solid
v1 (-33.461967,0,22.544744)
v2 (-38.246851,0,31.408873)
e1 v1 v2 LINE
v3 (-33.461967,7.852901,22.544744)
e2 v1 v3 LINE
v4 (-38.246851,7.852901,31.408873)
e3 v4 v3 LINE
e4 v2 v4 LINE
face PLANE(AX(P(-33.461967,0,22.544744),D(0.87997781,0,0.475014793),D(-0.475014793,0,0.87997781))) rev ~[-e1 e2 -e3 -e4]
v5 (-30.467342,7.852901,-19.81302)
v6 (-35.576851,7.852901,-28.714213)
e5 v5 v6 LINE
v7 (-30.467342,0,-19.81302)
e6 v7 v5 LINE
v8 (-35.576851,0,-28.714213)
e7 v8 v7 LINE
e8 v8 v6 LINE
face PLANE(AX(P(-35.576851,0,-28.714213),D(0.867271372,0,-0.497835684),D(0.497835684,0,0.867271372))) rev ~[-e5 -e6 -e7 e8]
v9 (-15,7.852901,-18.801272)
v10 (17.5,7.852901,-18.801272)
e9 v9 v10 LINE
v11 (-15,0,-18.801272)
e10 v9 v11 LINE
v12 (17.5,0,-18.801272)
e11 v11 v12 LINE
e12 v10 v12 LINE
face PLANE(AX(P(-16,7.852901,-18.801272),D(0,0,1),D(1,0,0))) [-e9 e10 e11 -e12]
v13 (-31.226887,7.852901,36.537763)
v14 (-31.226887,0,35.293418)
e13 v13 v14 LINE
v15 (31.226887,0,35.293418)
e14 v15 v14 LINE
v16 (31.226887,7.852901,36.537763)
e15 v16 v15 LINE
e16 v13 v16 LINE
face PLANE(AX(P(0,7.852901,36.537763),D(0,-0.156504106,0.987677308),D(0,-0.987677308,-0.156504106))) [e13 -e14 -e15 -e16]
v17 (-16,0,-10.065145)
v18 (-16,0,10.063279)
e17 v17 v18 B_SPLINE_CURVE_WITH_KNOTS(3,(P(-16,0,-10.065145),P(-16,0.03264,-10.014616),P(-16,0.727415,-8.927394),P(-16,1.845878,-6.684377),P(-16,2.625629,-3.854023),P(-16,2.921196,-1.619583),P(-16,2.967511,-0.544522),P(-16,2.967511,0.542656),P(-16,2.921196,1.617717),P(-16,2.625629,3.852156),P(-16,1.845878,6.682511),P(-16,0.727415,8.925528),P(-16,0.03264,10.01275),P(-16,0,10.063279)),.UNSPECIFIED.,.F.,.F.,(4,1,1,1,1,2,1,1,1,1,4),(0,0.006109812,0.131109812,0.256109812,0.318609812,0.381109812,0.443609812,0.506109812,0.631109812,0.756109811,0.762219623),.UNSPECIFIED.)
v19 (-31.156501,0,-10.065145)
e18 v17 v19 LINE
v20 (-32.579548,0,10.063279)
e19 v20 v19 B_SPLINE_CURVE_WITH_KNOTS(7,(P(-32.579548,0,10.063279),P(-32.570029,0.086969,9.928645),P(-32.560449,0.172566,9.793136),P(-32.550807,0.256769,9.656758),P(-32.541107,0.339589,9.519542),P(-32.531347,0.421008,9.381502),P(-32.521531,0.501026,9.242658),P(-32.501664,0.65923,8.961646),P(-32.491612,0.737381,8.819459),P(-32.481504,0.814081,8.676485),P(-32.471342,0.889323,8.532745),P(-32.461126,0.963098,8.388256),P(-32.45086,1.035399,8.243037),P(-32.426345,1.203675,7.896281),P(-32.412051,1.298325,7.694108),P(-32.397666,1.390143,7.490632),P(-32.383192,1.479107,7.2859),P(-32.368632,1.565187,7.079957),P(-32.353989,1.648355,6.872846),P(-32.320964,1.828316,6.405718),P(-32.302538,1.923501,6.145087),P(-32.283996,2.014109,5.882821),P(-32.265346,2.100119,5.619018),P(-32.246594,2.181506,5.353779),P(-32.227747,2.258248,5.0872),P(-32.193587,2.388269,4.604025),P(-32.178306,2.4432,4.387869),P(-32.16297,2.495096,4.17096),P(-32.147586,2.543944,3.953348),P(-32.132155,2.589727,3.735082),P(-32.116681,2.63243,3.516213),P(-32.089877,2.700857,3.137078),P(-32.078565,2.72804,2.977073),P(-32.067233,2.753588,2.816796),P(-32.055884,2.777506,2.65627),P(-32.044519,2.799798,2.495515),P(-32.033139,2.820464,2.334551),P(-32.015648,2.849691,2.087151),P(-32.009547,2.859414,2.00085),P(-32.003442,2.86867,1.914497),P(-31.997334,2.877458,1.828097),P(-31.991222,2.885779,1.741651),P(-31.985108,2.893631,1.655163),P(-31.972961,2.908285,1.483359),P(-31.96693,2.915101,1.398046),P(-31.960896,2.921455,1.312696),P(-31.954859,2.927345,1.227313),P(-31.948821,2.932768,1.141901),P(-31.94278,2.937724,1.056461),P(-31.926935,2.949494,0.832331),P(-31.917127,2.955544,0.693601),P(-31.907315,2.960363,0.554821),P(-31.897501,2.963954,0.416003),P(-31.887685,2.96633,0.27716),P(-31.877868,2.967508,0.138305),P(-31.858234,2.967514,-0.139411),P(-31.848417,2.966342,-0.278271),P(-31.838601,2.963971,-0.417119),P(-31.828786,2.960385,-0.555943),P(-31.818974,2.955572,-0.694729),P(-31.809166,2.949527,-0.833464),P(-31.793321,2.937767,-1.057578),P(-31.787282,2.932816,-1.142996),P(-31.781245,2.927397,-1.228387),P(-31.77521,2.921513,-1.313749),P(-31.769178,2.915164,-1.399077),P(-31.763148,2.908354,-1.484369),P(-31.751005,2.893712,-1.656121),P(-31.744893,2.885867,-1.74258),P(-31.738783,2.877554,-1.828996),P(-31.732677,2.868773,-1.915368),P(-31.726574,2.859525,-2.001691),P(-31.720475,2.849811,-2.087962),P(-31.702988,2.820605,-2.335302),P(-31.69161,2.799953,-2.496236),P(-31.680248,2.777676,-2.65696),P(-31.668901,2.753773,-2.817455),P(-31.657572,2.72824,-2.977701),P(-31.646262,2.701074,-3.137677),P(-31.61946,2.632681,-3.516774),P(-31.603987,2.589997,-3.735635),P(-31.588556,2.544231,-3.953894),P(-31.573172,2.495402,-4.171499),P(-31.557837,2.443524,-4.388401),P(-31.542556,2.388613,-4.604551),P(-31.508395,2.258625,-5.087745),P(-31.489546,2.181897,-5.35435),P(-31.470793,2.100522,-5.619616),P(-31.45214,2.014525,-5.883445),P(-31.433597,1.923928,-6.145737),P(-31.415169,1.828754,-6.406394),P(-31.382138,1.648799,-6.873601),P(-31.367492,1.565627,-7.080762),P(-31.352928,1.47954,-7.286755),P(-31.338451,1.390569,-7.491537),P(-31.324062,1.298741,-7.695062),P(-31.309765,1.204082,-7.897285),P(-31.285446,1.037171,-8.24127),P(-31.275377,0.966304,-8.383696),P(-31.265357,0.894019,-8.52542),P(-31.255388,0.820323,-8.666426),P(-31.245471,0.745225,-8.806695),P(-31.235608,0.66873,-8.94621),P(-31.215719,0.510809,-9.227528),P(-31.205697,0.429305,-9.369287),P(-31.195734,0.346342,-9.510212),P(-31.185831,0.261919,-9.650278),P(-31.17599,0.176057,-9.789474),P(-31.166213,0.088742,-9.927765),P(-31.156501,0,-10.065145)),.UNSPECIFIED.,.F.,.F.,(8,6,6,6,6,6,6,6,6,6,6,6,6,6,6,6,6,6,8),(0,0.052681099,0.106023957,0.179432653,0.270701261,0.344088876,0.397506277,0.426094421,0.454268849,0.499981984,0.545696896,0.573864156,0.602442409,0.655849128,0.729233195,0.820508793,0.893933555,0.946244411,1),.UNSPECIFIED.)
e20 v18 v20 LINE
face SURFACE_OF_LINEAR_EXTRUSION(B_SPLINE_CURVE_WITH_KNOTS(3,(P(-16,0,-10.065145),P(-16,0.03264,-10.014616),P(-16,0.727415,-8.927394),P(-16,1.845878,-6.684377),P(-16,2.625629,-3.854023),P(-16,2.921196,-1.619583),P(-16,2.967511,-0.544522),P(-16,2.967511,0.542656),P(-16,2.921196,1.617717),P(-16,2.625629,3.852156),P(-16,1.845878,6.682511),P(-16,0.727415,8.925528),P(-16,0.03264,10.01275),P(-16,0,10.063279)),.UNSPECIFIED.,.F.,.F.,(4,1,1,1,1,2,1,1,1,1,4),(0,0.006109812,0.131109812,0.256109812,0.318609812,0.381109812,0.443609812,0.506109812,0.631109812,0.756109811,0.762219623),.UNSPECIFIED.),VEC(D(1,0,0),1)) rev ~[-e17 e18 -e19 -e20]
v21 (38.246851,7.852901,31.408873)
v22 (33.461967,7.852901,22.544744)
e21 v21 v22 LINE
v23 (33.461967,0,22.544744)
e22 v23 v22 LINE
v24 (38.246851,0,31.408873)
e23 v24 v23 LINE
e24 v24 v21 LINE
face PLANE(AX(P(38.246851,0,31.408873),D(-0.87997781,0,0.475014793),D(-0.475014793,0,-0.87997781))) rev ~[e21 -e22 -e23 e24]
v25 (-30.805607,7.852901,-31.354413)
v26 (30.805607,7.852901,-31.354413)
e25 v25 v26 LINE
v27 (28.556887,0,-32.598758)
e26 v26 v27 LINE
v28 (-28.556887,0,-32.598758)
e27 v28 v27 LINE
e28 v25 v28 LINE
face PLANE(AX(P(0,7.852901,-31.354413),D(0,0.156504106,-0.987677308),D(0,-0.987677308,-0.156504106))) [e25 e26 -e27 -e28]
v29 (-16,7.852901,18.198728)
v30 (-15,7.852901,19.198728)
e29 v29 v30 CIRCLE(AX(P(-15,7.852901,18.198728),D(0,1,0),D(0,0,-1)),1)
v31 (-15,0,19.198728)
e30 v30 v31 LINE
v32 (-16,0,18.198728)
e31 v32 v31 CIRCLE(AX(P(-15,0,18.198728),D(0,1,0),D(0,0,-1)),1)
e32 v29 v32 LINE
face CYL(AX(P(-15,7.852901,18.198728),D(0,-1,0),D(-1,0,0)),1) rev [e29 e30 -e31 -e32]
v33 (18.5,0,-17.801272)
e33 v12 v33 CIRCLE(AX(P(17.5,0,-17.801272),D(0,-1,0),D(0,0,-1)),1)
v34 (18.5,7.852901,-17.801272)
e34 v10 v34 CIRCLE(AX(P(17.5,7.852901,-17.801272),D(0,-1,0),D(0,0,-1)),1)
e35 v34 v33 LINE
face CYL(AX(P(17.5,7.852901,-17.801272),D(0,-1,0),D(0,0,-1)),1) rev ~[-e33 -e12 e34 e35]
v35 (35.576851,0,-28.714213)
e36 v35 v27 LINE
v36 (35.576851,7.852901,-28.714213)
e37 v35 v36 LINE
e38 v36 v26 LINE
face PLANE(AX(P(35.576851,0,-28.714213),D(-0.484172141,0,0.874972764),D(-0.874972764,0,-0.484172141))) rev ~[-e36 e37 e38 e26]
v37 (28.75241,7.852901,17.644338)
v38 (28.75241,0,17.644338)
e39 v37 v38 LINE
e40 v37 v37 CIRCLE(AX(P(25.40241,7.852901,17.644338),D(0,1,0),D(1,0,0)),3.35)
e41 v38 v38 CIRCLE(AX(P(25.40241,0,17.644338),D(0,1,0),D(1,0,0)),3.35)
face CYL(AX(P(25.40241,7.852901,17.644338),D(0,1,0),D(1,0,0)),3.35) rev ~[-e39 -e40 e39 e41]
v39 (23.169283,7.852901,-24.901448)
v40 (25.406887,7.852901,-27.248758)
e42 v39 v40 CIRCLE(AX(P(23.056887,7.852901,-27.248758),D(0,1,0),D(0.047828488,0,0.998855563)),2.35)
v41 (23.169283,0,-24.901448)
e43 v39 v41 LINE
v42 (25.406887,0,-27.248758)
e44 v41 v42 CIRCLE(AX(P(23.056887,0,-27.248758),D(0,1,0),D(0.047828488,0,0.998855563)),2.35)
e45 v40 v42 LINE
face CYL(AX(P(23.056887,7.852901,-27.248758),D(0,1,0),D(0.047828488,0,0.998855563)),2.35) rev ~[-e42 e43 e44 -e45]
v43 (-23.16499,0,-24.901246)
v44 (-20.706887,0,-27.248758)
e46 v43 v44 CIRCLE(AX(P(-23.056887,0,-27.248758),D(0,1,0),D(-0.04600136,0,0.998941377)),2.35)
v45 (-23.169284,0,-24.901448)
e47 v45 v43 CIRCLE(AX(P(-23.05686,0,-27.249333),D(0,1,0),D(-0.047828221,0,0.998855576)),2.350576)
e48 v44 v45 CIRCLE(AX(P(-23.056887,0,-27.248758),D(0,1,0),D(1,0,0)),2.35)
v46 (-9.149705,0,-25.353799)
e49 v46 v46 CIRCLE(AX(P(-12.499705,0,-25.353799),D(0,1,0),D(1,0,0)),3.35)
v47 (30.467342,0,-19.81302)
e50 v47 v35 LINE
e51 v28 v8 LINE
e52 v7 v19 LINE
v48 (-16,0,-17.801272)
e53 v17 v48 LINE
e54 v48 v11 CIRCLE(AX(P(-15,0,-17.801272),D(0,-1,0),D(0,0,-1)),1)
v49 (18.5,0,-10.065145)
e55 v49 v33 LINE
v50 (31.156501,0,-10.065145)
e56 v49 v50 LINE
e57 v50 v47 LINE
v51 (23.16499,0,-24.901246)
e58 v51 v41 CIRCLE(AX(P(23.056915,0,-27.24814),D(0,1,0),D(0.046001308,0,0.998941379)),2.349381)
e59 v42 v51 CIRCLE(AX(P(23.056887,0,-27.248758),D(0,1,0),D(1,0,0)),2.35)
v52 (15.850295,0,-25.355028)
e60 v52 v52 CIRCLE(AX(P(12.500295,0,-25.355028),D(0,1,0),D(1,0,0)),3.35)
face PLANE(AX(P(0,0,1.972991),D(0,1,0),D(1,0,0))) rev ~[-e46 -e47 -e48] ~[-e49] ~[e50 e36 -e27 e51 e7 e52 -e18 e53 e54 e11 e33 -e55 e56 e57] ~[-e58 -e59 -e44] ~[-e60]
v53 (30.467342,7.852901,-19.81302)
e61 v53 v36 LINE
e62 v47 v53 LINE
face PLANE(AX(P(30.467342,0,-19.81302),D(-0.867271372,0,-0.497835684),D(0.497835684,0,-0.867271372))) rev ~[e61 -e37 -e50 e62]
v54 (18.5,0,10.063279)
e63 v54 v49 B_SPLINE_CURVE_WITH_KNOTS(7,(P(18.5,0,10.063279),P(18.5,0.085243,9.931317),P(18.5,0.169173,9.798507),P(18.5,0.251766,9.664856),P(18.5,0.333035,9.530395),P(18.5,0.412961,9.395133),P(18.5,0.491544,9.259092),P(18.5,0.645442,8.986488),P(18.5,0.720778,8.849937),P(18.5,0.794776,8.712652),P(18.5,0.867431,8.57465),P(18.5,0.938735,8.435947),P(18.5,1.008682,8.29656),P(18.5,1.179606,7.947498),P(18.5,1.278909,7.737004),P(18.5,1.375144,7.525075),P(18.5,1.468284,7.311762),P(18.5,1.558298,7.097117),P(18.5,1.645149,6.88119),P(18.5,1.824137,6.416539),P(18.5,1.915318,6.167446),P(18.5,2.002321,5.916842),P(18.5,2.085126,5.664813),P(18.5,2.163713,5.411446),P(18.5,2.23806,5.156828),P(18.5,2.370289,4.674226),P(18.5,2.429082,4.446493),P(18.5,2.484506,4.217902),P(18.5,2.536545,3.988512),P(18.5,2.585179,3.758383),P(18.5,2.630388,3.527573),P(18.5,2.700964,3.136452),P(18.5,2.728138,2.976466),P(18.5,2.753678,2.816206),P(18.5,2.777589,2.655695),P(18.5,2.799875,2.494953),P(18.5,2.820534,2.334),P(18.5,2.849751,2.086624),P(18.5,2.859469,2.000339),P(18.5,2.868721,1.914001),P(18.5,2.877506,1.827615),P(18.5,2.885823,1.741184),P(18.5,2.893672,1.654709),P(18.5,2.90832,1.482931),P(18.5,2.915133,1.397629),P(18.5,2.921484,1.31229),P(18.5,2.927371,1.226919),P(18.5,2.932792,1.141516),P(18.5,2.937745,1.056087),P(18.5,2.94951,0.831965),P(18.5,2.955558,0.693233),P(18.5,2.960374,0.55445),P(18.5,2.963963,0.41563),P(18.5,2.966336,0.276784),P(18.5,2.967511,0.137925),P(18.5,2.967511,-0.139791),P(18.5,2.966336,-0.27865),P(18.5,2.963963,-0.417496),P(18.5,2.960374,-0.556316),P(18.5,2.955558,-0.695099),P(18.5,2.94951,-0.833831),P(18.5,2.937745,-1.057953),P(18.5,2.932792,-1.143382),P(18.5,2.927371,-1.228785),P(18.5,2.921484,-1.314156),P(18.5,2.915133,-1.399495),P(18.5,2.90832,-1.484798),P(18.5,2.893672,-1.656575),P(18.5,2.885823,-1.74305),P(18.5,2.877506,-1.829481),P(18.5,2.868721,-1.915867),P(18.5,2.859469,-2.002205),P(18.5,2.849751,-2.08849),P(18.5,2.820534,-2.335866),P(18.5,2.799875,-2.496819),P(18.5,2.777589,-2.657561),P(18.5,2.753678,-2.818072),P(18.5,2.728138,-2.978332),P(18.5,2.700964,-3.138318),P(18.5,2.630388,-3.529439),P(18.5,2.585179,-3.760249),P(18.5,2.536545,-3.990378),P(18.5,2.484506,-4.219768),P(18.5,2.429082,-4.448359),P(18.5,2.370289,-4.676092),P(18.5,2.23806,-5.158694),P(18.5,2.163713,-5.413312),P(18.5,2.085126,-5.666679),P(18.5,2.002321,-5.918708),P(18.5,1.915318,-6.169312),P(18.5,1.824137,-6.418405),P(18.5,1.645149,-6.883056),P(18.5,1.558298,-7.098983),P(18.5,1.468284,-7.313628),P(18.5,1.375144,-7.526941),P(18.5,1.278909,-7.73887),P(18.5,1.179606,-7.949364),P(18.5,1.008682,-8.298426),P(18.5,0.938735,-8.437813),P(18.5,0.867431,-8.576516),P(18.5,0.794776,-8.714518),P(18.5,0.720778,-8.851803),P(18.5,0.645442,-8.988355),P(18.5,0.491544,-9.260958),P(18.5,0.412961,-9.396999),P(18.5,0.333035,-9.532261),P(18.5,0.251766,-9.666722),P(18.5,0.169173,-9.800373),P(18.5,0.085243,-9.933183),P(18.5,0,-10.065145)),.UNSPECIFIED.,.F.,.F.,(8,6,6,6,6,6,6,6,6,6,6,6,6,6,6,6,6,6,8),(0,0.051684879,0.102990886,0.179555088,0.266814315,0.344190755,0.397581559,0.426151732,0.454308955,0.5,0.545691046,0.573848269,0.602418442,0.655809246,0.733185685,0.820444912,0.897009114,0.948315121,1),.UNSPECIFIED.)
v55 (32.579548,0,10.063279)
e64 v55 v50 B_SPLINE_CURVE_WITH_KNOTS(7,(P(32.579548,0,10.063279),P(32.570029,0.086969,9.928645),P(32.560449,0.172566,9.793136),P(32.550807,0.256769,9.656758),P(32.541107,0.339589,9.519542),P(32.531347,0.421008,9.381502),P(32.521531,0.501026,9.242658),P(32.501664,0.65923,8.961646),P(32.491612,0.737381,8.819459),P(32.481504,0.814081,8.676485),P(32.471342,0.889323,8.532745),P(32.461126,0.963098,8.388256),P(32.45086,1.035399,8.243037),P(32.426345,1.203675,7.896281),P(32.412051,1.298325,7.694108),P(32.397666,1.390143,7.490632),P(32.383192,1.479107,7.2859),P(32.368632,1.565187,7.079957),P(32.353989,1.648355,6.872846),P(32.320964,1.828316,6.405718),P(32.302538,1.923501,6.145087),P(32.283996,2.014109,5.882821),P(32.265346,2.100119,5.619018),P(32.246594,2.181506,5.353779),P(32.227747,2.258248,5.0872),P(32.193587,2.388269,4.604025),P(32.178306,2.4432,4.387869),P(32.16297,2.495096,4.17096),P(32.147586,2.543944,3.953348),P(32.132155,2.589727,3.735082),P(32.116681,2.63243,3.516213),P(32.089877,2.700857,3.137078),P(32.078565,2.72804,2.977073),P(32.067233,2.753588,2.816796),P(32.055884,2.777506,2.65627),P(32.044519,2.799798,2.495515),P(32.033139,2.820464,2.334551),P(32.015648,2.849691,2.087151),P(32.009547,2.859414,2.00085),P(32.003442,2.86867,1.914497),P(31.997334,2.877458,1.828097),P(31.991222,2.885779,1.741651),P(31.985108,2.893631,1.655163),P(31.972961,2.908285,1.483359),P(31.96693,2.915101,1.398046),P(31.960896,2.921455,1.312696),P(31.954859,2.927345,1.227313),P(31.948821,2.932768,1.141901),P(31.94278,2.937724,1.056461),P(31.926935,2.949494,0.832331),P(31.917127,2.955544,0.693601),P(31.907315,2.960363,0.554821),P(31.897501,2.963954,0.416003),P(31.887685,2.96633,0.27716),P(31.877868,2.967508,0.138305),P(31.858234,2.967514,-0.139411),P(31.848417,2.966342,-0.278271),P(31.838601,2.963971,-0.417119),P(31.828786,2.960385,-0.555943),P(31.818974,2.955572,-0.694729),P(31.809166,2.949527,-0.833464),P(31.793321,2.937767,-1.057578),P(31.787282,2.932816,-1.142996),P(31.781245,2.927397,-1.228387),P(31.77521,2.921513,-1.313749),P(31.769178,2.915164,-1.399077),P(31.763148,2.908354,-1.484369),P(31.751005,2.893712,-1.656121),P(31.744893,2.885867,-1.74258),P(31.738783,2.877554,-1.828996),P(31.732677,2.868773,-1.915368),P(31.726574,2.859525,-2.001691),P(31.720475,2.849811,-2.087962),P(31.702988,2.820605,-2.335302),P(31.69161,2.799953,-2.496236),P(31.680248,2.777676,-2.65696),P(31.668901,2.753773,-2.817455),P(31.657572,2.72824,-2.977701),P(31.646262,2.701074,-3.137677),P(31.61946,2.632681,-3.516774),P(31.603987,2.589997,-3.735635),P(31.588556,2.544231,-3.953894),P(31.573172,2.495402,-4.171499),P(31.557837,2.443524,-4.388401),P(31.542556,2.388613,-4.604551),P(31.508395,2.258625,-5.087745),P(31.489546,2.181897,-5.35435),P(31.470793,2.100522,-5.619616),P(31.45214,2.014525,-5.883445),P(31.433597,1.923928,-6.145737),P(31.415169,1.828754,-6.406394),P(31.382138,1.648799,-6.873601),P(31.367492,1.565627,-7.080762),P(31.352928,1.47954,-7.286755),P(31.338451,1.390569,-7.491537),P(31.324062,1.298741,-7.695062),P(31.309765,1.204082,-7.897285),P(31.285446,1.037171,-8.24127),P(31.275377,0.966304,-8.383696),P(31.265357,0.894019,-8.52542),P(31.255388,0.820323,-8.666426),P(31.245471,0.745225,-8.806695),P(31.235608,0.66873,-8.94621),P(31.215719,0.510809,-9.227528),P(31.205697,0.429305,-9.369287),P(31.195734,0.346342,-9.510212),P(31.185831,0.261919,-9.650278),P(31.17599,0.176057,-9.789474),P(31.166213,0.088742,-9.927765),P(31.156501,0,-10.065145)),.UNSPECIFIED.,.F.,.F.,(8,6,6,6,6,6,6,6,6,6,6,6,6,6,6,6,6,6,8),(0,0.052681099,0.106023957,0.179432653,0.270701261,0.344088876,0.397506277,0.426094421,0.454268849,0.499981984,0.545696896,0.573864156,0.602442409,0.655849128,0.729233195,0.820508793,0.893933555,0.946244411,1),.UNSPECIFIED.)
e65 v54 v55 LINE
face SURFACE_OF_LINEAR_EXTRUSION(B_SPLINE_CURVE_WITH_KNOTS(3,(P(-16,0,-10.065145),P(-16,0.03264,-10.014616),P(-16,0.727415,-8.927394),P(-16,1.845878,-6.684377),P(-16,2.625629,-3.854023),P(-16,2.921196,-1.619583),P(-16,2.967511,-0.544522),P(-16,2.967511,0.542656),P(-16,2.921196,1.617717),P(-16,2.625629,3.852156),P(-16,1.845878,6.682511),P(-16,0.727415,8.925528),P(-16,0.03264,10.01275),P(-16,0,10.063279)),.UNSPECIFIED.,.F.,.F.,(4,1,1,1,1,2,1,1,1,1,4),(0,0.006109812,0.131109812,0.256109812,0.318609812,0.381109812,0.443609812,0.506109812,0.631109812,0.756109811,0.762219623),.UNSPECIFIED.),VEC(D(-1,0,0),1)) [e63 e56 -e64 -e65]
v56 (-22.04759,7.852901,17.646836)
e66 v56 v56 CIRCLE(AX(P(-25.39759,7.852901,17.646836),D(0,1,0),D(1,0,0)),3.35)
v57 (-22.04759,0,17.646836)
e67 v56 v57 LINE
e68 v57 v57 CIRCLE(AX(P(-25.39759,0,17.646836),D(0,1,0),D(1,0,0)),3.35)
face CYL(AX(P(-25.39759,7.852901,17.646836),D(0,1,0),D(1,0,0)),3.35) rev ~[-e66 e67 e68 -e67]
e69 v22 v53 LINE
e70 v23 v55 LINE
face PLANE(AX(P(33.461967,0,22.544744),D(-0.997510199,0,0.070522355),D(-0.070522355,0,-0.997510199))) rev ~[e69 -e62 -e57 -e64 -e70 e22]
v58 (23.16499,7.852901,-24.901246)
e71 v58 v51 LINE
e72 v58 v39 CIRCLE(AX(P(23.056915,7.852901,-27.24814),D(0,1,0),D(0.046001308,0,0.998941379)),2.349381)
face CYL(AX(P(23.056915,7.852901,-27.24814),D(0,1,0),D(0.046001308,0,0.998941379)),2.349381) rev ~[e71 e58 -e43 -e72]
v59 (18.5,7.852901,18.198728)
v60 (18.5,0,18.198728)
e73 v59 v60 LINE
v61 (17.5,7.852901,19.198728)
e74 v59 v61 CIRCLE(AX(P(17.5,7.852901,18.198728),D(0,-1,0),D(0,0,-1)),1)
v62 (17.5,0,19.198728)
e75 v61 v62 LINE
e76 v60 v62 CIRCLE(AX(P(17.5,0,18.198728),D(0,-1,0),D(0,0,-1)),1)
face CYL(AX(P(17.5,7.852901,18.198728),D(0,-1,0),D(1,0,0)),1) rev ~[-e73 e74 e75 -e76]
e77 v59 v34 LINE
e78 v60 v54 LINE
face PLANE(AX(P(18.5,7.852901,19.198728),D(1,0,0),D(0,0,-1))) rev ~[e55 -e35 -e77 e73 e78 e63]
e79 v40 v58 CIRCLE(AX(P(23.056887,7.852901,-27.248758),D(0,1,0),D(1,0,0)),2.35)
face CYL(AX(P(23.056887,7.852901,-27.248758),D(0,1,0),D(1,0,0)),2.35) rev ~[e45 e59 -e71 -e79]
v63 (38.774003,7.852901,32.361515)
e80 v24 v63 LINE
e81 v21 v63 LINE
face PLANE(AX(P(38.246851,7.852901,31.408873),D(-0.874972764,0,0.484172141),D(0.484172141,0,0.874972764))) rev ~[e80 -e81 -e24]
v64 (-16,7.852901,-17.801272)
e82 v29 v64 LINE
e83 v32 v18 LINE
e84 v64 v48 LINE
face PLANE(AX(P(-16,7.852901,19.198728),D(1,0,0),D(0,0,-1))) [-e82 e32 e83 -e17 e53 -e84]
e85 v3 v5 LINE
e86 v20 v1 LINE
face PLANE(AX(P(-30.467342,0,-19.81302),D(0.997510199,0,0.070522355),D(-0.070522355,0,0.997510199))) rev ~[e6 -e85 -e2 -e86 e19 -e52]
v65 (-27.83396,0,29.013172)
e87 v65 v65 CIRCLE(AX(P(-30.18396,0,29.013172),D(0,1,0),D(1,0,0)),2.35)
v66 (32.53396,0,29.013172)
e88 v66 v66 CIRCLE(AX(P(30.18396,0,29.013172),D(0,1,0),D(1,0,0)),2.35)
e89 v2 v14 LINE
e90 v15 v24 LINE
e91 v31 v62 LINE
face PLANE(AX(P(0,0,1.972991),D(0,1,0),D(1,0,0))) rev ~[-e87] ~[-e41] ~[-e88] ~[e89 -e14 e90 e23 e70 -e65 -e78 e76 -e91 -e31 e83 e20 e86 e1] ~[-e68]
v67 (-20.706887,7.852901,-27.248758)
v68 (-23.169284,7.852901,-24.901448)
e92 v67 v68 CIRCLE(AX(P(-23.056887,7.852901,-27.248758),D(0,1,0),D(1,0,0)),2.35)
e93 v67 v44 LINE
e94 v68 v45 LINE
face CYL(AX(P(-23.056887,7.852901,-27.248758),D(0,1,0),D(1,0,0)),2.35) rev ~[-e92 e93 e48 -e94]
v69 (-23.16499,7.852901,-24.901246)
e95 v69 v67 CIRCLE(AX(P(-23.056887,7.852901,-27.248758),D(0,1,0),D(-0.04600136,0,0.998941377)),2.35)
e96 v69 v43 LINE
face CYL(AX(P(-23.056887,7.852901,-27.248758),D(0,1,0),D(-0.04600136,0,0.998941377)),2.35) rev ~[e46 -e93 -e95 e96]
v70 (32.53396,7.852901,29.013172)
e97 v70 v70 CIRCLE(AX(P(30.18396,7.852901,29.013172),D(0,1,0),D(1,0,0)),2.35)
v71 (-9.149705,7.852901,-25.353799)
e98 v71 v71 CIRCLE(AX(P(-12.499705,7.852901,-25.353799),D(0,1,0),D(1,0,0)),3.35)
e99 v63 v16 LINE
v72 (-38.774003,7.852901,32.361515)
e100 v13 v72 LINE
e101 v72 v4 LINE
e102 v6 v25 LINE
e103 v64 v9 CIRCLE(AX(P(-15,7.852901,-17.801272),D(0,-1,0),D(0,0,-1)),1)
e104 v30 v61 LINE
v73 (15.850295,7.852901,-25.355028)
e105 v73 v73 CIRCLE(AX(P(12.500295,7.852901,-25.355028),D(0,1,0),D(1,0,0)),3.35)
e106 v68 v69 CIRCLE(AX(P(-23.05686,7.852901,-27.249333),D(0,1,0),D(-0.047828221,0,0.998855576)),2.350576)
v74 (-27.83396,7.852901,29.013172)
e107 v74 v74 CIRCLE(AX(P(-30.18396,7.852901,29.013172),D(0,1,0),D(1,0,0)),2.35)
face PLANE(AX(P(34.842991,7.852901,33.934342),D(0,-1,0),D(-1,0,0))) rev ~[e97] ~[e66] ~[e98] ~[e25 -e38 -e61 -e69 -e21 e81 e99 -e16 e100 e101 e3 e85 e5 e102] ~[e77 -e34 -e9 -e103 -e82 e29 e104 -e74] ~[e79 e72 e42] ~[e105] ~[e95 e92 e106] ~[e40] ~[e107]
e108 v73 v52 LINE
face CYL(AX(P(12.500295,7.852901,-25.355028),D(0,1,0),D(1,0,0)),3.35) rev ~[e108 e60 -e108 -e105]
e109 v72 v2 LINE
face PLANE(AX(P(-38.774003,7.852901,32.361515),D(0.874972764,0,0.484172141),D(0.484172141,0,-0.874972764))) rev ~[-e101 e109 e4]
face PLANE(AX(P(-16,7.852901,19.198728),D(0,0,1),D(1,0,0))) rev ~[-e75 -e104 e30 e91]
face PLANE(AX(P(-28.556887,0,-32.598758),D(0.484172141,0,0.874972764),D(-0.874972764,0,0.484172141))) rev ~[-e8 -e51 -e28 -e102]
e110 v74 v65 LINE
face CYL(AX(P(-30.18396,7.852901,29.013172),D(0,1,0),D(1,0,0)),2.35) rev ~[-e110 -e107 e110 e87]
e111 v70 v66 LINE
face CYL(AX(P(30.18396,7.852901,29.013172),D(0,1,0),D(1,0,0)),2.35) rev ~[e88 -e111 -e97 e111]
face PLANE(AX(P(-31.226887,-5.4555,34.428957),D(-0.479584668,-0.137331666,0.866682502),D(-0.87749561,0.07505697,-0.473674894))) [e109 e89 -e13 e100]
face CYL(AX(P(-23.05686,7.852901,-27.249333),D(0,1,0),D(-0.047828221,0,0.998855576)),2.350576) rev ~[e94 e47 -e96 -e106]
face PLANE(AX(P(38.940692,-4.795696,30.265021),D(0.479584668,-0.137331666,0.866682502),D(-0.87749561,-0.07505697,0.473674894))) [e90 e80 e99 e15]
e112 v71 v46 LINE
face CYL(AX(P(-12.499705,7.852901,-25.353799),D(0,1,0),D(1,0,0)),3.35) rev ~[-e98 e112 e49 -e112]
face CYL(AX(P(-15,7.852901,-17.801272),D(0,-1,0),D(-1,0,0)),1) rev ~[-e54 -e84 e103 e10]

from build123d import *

# Parameters (mm, degrees)
BOSS_EXTRUDE1_DEPTH      = 10
CUT_EXTRUDE1_DEPTH       = 39.246851426
CUT_EXTRUDE1_DEPTH_BACK  = 39.246851426
BOSS_EXTRUDE2_DEPTH      = 31.226887
BOSS_EXTRUDE2_DEPTH_BACK = 31.226887
BOSS_EXTRUDE4_DEPTH      = 7.852901
CUT_EXTRUDE6_REACH       = 15.474
BOSS_EXTRUDE6_DEPTH      = 7.852901
CUT_EXTRUDE7_REACH       = 15.474
SKETCH15_W               = 34.5
SKETCH15_H               = 38
CUT_EXTRUDE8_DEPTH       = 8.852900758
FILLET1_R                = 1
SKETCH16_R               = 2.35
CUT_EXTRUDE9_DEPTH       = 7.852901
SKETCH18_R               = 3.35
CUT_EXTRUDE10_DEPTH      = 7.852901
CUT_EXTRUDE11_DEPTH      = 55.774002508
CUT_EXTRUDE11_DEPTH_BACK = 23.774002507


with BuildPart() as part:
    # Sketch1 → Boss-Extrude1 (new body)
    with BuildSketch(Plane(origin=(0, 0, 0), x_dir=(1, 0, 0), z_dir=(0, 1, 0))):
        Polygon((28.55688655, 32.59875814), (-28.55688655, 32.59875814), (-35.576851431, 28.714212738), (-30.467341853, 19.813019987), (-33.461967186, -22.544744449), (-38.246851426, -31.408872502), (-31.226886544, -35.293417903), (31.226886544, -35.293417903), (38.246851426, -31.408872502), (33.461967186, -22.544744449), (30.467341853, 19.813019987), (35.576851431, 28.714212738), align=None)
    extrude(amount=BOSS_EXTRUDE1_DEPTH)

    # Sketch3 → Cut-Extrude1 (cut, two sides)
    with BuildSketch(Plane(origin=(0, 0, 0), x_dir=(0, 0, -1), z_dir=(1, 0, 0))) as cut_extrude1_sk:
        Polygon((31.354413252, 7.852900712), (32.59875814, 0), (34.072271083, 0), (34.072271083, 12.681172501), (31.434287212, 12.681172501), (-35.293417903, 12.681172501), (-35.293417903, 10), (-35.293417903, 7.852900712), align=None)
    extrude(amount=CUT_EXTRUDE1_DEPTH, mode=Mode.SUBTRACT)
    extrude(cut_extrude1_sk.sketch, amount=-CUT_EXTRUDE1_DEPTH_BACK, mode=Mode.SUBTRACT)

    # Sketch5 → Boss-Extrude2 (add, two sides)
    with BuildSketch(Plane(origin=(0, 0, 0), x_dir=(0, 0, -1), z_dir=(1, 0, 0))) as boss_extrude2_sk:
        Polygon((-35.29341791, 0), (-35.293417904, 7.852900712), (-36.537762798, 7.852900712), align=None)
    extrude(amount=BOSS_EXTRUDE2_DEPTH)
    extrude(boss_extrude2_sk.sketch, amount=-BOSS_EXTRUDE2_DEPTH_BACK)

    # Sketch7 → Boss-Extrude4 (add)
    with BuildSketch(Plane(origin=(0, 7.852900712, 0), x_dir=(1, 0, 0), z_dir=(0, 1, 0))):
        Polygon((31.226886544, -35.293417903), (38.246851426, -31.408872502), (38.774002508, -32.361514754), (31.226886544, -36.537762798), align=None)
    extrude(amount=-BOSS_EXTRUDE4_DEPTH)

    # Cut-Extrude6: up to this face of the body (flat: up to its plane)
    cut_extrude6_end = Plane(part.part.faces().sort_by_distance((0.070807589, 7.852900712, 3.202963046))[0])
    # Sketch12 → Cut-Extrude6 (cut, up to the picked face)
    with BuildSketch(Plane(origin=(0, 0, 0), x_dir=(1, 0, 0), z_dir=(0, 0.987677308, 0.156504106)), mode=Mode.PRIVATE) as cut_extrude6_sk1:
        Polygon((30.896216351, -36.268243015), (31.226886544, -36.087519199), (38.774002508, -31.962733774), (39.457900831, -31.588957374), (38.940691815, -30.642620529), (31.226886544, -34.85850799), (30.896216351, -34.85850799), align=None)
    cut_extrude6_tool1 = split(extrude(cut_extrude6_sk1.sketch, amount=CUT_EXTRUDE6_REACH, mode=Mode.PRIVATE), bisect_by=cut_extrude6_end, keep=Keep.BOTH, mode=Mode.PRIVATE)
    add(cut_extrude6_tool1.solids().sort_by_distance((35.037296, -5.226434, 32.983357))[0], mode=Mode.SUBTRACT)

    # Sketch13 → Boss-Extrude6 (add)
    with BuildSketch(Plane(origin=(0, 7.852900712, 0), x_dir=(1, 0, 0), z_dir=(0, 1, 0))):
        Polygon((-31.226886544, -35.293417904), (-31.226886544, -36.537762798), (-38.774002507, -32.361514753), (-38.246851426, -31.408872502), align=None)
    extrude(amount=-BOSS_EXTRUDE6_DEPTH)

    # Cut-Extrude7: up to this face of the body (flat: up to its plane)
    cut_extrude7_end = Plane(part.part.faces().sort_by_distance((0, 7.852900712, 3.265184411))[0])
    # Sketch14 → Cut-Extrude7 (cut, up to the picked face)
    with BuildSketch(Plane(origin=(0, 0, 0), x_dir=(1, 0, 0), z_dir=(0, 0.987677308, 0.156504106)), mode=Mode.PRIVATE) as cut_extrude7_sk1:
        Polygon((-38.774002507, -31.962733773), (-31.226886544, -36.087519199), (-31.226886544, -34.858507985), (-39.138580492, -30.534466847), (-40.986059535, -30.753760618), align=None)
    cut_extrude7_tool1 = split(extrude(cut_extrude7_sk1.sketch, amount=CUT_EXTRUDE7_REACH, mode=Mode.PRIVATE), bisect_by=cut_extrude7_end, keep=Keep.BOTH, mode=Mode.PRIVATE)
    add(cut_extrude7_tool1.solids().sort_by_distance((-35.660699, -5.175776, 32.663656))[0], mode=Mode.SUBTRACT)

    # Sketch15 → Cut-Extrude8 (cut, through all)
    with BuildSketch(Plane(origin=(0, 7.852900712, 0), x_dir=(1, 0, 0), z_dir=(0, 1, 0))):
        with Locations((1.25, -0.19872767)):
            Rectangle(SKETCH15_W, SKETCH15_H)
    extrude(amount=-CUT_EXTRUDE8_DEPTH, mode=Mode.SUBTRACT)

    # Fillet1
    fillet1_edges = [part.edges().sort_by_distance(p)[0] for p in [
        (-16, 3.926450356, 19.19872767),
        (-16, 3.926450356, -18.80127233),
        (18.5, 3.926450356, -18.80127233),
        (18.5, 3.926450356, 19.19872767),
    ]]
    fillet(fillet1_edges, radius=FILLET1_R)

    # Sketch16 → Cut-Extrude9 (cut)
    with BuildSketch(Plane(origin=(0, 7.852900712, 0), x_dir=(1, 0, 0), z_dir=(0, 1, 0))):
        with BuildLine():
            ThreePointArc((-23.169283502, 24.901447562), (-23.167136672, 24.901345749), (-23.16498975, 24.901245899))
            ThreePointArc((-23.16498975, 24.901245899), (-21.433855825, 25.549266666), (-20.706886553, 27.248758135))
            ThreePointArc((-20.706886553, 27.248758135), (-24.678362296, 28.949733272), (-23.169283502, 24.901447563))
        make_face()
        with Locations((-30.183959547, -29.01317237)):
            Circle(SKETCH16_R)
        with Locations((30.183959554, -29.013172365)):
            Circle(SKETCH16_R)
        with BuildLine():
            ThreePointArc((23.164989747, 24.901245903), (23.167136669, 24.901345753), (23.169283499, 24.901447567))
            ThreePointArc((23.169283499, 24.901447567), (24.757861687, 25.627282396), (25.40688655, 27.24875814))
            ThreePointArc((25.40688655, 27.24875814), (21.357395081, 28.871788867), (23.164989747, 24.901245903))
        make_face()
    extrude(amount=-CUT_EXTRUDE9_DEPTH, mode=Mode.SUBTRACT)

    # Sketch18 → Cut-Extrude10 (cut)
    with BuildSketch(Plane(origin=(0, 7.852900712, 0), x_dir=(1, 0, 0), z_dir=(0, 1, 0))):
        with Locations((-25.397590164, -17.646835853)):
            Circle(SKETCH18_R)
        with Locations((12.500295063, 25.355028006)):
            Circle(SKETCH18_R)
        with Locations((-12.499704907, 25.353798513)):
            Circle(SKETCH18_R)
        with Locations((25.402409775, -17.644337524)):
            Circle(SKETCH18_R)
    extrude(amount=-CUT_EXTRUDE10_DEPTH, mode=Mode.SUBTRACT)

    # Sketch19 → Cut-Extrude11 (cut, two sides)
    with BuildSketch(Plane(origin=(-16, 0, 0), x_dir=(0, 0, -1), z_dir=(1, 0, 0))) as cut_extrude11_sk:
        with BuildLine():
            Line((-10.0632786, 0), (10.065144671, 0))
            add(Edge.make_bspline(
                [(0.000933035, 2.967511147), (0.544521725, 2.967511147), (1.619583471, 2.921196479), (3.854022546, 2.625629399), (6.684377205, 1.845878396), (8.927393688, 0.727415261), (10.014615597, 0.032640048), (10.065144671, 0)],
                knots=[0, 0, 0, 0, 0.0625, 0.125, 0.25, 0.375, 0.381109812, 0.381109812, 0.381109812, 0.381109812], degree=3))
            add(Edge.make_bspline(
                [(0.000933035, 2.967511147), (-0.542655654, 2.967511147), (-1.6177174, 2.921196479), (-3.852156475, 2.625629399), (-6.682511135, 1.845878396), (-8.925527618, 0.727415261), (-10.012749527, 0.032640048), (-10.0632786, 0)],
                knots=[0, 0, 0, 0, 0.0625, 0.125, 0.25, 0.375, 0.381109812, 0.381109812, 0.381109812, 0.381109812], degree=3))
        make_face()
    extrude(amount=CUT_EXTRUDE11_DEPTH, mode=Mode.SUBTRACT)
    extrude(cut_extrude11_sk.sketch, amount=-CUT_EXTRUDE11_DEPTH_BACK, mode=Mode.SUBTRACT)


solid = part.part
